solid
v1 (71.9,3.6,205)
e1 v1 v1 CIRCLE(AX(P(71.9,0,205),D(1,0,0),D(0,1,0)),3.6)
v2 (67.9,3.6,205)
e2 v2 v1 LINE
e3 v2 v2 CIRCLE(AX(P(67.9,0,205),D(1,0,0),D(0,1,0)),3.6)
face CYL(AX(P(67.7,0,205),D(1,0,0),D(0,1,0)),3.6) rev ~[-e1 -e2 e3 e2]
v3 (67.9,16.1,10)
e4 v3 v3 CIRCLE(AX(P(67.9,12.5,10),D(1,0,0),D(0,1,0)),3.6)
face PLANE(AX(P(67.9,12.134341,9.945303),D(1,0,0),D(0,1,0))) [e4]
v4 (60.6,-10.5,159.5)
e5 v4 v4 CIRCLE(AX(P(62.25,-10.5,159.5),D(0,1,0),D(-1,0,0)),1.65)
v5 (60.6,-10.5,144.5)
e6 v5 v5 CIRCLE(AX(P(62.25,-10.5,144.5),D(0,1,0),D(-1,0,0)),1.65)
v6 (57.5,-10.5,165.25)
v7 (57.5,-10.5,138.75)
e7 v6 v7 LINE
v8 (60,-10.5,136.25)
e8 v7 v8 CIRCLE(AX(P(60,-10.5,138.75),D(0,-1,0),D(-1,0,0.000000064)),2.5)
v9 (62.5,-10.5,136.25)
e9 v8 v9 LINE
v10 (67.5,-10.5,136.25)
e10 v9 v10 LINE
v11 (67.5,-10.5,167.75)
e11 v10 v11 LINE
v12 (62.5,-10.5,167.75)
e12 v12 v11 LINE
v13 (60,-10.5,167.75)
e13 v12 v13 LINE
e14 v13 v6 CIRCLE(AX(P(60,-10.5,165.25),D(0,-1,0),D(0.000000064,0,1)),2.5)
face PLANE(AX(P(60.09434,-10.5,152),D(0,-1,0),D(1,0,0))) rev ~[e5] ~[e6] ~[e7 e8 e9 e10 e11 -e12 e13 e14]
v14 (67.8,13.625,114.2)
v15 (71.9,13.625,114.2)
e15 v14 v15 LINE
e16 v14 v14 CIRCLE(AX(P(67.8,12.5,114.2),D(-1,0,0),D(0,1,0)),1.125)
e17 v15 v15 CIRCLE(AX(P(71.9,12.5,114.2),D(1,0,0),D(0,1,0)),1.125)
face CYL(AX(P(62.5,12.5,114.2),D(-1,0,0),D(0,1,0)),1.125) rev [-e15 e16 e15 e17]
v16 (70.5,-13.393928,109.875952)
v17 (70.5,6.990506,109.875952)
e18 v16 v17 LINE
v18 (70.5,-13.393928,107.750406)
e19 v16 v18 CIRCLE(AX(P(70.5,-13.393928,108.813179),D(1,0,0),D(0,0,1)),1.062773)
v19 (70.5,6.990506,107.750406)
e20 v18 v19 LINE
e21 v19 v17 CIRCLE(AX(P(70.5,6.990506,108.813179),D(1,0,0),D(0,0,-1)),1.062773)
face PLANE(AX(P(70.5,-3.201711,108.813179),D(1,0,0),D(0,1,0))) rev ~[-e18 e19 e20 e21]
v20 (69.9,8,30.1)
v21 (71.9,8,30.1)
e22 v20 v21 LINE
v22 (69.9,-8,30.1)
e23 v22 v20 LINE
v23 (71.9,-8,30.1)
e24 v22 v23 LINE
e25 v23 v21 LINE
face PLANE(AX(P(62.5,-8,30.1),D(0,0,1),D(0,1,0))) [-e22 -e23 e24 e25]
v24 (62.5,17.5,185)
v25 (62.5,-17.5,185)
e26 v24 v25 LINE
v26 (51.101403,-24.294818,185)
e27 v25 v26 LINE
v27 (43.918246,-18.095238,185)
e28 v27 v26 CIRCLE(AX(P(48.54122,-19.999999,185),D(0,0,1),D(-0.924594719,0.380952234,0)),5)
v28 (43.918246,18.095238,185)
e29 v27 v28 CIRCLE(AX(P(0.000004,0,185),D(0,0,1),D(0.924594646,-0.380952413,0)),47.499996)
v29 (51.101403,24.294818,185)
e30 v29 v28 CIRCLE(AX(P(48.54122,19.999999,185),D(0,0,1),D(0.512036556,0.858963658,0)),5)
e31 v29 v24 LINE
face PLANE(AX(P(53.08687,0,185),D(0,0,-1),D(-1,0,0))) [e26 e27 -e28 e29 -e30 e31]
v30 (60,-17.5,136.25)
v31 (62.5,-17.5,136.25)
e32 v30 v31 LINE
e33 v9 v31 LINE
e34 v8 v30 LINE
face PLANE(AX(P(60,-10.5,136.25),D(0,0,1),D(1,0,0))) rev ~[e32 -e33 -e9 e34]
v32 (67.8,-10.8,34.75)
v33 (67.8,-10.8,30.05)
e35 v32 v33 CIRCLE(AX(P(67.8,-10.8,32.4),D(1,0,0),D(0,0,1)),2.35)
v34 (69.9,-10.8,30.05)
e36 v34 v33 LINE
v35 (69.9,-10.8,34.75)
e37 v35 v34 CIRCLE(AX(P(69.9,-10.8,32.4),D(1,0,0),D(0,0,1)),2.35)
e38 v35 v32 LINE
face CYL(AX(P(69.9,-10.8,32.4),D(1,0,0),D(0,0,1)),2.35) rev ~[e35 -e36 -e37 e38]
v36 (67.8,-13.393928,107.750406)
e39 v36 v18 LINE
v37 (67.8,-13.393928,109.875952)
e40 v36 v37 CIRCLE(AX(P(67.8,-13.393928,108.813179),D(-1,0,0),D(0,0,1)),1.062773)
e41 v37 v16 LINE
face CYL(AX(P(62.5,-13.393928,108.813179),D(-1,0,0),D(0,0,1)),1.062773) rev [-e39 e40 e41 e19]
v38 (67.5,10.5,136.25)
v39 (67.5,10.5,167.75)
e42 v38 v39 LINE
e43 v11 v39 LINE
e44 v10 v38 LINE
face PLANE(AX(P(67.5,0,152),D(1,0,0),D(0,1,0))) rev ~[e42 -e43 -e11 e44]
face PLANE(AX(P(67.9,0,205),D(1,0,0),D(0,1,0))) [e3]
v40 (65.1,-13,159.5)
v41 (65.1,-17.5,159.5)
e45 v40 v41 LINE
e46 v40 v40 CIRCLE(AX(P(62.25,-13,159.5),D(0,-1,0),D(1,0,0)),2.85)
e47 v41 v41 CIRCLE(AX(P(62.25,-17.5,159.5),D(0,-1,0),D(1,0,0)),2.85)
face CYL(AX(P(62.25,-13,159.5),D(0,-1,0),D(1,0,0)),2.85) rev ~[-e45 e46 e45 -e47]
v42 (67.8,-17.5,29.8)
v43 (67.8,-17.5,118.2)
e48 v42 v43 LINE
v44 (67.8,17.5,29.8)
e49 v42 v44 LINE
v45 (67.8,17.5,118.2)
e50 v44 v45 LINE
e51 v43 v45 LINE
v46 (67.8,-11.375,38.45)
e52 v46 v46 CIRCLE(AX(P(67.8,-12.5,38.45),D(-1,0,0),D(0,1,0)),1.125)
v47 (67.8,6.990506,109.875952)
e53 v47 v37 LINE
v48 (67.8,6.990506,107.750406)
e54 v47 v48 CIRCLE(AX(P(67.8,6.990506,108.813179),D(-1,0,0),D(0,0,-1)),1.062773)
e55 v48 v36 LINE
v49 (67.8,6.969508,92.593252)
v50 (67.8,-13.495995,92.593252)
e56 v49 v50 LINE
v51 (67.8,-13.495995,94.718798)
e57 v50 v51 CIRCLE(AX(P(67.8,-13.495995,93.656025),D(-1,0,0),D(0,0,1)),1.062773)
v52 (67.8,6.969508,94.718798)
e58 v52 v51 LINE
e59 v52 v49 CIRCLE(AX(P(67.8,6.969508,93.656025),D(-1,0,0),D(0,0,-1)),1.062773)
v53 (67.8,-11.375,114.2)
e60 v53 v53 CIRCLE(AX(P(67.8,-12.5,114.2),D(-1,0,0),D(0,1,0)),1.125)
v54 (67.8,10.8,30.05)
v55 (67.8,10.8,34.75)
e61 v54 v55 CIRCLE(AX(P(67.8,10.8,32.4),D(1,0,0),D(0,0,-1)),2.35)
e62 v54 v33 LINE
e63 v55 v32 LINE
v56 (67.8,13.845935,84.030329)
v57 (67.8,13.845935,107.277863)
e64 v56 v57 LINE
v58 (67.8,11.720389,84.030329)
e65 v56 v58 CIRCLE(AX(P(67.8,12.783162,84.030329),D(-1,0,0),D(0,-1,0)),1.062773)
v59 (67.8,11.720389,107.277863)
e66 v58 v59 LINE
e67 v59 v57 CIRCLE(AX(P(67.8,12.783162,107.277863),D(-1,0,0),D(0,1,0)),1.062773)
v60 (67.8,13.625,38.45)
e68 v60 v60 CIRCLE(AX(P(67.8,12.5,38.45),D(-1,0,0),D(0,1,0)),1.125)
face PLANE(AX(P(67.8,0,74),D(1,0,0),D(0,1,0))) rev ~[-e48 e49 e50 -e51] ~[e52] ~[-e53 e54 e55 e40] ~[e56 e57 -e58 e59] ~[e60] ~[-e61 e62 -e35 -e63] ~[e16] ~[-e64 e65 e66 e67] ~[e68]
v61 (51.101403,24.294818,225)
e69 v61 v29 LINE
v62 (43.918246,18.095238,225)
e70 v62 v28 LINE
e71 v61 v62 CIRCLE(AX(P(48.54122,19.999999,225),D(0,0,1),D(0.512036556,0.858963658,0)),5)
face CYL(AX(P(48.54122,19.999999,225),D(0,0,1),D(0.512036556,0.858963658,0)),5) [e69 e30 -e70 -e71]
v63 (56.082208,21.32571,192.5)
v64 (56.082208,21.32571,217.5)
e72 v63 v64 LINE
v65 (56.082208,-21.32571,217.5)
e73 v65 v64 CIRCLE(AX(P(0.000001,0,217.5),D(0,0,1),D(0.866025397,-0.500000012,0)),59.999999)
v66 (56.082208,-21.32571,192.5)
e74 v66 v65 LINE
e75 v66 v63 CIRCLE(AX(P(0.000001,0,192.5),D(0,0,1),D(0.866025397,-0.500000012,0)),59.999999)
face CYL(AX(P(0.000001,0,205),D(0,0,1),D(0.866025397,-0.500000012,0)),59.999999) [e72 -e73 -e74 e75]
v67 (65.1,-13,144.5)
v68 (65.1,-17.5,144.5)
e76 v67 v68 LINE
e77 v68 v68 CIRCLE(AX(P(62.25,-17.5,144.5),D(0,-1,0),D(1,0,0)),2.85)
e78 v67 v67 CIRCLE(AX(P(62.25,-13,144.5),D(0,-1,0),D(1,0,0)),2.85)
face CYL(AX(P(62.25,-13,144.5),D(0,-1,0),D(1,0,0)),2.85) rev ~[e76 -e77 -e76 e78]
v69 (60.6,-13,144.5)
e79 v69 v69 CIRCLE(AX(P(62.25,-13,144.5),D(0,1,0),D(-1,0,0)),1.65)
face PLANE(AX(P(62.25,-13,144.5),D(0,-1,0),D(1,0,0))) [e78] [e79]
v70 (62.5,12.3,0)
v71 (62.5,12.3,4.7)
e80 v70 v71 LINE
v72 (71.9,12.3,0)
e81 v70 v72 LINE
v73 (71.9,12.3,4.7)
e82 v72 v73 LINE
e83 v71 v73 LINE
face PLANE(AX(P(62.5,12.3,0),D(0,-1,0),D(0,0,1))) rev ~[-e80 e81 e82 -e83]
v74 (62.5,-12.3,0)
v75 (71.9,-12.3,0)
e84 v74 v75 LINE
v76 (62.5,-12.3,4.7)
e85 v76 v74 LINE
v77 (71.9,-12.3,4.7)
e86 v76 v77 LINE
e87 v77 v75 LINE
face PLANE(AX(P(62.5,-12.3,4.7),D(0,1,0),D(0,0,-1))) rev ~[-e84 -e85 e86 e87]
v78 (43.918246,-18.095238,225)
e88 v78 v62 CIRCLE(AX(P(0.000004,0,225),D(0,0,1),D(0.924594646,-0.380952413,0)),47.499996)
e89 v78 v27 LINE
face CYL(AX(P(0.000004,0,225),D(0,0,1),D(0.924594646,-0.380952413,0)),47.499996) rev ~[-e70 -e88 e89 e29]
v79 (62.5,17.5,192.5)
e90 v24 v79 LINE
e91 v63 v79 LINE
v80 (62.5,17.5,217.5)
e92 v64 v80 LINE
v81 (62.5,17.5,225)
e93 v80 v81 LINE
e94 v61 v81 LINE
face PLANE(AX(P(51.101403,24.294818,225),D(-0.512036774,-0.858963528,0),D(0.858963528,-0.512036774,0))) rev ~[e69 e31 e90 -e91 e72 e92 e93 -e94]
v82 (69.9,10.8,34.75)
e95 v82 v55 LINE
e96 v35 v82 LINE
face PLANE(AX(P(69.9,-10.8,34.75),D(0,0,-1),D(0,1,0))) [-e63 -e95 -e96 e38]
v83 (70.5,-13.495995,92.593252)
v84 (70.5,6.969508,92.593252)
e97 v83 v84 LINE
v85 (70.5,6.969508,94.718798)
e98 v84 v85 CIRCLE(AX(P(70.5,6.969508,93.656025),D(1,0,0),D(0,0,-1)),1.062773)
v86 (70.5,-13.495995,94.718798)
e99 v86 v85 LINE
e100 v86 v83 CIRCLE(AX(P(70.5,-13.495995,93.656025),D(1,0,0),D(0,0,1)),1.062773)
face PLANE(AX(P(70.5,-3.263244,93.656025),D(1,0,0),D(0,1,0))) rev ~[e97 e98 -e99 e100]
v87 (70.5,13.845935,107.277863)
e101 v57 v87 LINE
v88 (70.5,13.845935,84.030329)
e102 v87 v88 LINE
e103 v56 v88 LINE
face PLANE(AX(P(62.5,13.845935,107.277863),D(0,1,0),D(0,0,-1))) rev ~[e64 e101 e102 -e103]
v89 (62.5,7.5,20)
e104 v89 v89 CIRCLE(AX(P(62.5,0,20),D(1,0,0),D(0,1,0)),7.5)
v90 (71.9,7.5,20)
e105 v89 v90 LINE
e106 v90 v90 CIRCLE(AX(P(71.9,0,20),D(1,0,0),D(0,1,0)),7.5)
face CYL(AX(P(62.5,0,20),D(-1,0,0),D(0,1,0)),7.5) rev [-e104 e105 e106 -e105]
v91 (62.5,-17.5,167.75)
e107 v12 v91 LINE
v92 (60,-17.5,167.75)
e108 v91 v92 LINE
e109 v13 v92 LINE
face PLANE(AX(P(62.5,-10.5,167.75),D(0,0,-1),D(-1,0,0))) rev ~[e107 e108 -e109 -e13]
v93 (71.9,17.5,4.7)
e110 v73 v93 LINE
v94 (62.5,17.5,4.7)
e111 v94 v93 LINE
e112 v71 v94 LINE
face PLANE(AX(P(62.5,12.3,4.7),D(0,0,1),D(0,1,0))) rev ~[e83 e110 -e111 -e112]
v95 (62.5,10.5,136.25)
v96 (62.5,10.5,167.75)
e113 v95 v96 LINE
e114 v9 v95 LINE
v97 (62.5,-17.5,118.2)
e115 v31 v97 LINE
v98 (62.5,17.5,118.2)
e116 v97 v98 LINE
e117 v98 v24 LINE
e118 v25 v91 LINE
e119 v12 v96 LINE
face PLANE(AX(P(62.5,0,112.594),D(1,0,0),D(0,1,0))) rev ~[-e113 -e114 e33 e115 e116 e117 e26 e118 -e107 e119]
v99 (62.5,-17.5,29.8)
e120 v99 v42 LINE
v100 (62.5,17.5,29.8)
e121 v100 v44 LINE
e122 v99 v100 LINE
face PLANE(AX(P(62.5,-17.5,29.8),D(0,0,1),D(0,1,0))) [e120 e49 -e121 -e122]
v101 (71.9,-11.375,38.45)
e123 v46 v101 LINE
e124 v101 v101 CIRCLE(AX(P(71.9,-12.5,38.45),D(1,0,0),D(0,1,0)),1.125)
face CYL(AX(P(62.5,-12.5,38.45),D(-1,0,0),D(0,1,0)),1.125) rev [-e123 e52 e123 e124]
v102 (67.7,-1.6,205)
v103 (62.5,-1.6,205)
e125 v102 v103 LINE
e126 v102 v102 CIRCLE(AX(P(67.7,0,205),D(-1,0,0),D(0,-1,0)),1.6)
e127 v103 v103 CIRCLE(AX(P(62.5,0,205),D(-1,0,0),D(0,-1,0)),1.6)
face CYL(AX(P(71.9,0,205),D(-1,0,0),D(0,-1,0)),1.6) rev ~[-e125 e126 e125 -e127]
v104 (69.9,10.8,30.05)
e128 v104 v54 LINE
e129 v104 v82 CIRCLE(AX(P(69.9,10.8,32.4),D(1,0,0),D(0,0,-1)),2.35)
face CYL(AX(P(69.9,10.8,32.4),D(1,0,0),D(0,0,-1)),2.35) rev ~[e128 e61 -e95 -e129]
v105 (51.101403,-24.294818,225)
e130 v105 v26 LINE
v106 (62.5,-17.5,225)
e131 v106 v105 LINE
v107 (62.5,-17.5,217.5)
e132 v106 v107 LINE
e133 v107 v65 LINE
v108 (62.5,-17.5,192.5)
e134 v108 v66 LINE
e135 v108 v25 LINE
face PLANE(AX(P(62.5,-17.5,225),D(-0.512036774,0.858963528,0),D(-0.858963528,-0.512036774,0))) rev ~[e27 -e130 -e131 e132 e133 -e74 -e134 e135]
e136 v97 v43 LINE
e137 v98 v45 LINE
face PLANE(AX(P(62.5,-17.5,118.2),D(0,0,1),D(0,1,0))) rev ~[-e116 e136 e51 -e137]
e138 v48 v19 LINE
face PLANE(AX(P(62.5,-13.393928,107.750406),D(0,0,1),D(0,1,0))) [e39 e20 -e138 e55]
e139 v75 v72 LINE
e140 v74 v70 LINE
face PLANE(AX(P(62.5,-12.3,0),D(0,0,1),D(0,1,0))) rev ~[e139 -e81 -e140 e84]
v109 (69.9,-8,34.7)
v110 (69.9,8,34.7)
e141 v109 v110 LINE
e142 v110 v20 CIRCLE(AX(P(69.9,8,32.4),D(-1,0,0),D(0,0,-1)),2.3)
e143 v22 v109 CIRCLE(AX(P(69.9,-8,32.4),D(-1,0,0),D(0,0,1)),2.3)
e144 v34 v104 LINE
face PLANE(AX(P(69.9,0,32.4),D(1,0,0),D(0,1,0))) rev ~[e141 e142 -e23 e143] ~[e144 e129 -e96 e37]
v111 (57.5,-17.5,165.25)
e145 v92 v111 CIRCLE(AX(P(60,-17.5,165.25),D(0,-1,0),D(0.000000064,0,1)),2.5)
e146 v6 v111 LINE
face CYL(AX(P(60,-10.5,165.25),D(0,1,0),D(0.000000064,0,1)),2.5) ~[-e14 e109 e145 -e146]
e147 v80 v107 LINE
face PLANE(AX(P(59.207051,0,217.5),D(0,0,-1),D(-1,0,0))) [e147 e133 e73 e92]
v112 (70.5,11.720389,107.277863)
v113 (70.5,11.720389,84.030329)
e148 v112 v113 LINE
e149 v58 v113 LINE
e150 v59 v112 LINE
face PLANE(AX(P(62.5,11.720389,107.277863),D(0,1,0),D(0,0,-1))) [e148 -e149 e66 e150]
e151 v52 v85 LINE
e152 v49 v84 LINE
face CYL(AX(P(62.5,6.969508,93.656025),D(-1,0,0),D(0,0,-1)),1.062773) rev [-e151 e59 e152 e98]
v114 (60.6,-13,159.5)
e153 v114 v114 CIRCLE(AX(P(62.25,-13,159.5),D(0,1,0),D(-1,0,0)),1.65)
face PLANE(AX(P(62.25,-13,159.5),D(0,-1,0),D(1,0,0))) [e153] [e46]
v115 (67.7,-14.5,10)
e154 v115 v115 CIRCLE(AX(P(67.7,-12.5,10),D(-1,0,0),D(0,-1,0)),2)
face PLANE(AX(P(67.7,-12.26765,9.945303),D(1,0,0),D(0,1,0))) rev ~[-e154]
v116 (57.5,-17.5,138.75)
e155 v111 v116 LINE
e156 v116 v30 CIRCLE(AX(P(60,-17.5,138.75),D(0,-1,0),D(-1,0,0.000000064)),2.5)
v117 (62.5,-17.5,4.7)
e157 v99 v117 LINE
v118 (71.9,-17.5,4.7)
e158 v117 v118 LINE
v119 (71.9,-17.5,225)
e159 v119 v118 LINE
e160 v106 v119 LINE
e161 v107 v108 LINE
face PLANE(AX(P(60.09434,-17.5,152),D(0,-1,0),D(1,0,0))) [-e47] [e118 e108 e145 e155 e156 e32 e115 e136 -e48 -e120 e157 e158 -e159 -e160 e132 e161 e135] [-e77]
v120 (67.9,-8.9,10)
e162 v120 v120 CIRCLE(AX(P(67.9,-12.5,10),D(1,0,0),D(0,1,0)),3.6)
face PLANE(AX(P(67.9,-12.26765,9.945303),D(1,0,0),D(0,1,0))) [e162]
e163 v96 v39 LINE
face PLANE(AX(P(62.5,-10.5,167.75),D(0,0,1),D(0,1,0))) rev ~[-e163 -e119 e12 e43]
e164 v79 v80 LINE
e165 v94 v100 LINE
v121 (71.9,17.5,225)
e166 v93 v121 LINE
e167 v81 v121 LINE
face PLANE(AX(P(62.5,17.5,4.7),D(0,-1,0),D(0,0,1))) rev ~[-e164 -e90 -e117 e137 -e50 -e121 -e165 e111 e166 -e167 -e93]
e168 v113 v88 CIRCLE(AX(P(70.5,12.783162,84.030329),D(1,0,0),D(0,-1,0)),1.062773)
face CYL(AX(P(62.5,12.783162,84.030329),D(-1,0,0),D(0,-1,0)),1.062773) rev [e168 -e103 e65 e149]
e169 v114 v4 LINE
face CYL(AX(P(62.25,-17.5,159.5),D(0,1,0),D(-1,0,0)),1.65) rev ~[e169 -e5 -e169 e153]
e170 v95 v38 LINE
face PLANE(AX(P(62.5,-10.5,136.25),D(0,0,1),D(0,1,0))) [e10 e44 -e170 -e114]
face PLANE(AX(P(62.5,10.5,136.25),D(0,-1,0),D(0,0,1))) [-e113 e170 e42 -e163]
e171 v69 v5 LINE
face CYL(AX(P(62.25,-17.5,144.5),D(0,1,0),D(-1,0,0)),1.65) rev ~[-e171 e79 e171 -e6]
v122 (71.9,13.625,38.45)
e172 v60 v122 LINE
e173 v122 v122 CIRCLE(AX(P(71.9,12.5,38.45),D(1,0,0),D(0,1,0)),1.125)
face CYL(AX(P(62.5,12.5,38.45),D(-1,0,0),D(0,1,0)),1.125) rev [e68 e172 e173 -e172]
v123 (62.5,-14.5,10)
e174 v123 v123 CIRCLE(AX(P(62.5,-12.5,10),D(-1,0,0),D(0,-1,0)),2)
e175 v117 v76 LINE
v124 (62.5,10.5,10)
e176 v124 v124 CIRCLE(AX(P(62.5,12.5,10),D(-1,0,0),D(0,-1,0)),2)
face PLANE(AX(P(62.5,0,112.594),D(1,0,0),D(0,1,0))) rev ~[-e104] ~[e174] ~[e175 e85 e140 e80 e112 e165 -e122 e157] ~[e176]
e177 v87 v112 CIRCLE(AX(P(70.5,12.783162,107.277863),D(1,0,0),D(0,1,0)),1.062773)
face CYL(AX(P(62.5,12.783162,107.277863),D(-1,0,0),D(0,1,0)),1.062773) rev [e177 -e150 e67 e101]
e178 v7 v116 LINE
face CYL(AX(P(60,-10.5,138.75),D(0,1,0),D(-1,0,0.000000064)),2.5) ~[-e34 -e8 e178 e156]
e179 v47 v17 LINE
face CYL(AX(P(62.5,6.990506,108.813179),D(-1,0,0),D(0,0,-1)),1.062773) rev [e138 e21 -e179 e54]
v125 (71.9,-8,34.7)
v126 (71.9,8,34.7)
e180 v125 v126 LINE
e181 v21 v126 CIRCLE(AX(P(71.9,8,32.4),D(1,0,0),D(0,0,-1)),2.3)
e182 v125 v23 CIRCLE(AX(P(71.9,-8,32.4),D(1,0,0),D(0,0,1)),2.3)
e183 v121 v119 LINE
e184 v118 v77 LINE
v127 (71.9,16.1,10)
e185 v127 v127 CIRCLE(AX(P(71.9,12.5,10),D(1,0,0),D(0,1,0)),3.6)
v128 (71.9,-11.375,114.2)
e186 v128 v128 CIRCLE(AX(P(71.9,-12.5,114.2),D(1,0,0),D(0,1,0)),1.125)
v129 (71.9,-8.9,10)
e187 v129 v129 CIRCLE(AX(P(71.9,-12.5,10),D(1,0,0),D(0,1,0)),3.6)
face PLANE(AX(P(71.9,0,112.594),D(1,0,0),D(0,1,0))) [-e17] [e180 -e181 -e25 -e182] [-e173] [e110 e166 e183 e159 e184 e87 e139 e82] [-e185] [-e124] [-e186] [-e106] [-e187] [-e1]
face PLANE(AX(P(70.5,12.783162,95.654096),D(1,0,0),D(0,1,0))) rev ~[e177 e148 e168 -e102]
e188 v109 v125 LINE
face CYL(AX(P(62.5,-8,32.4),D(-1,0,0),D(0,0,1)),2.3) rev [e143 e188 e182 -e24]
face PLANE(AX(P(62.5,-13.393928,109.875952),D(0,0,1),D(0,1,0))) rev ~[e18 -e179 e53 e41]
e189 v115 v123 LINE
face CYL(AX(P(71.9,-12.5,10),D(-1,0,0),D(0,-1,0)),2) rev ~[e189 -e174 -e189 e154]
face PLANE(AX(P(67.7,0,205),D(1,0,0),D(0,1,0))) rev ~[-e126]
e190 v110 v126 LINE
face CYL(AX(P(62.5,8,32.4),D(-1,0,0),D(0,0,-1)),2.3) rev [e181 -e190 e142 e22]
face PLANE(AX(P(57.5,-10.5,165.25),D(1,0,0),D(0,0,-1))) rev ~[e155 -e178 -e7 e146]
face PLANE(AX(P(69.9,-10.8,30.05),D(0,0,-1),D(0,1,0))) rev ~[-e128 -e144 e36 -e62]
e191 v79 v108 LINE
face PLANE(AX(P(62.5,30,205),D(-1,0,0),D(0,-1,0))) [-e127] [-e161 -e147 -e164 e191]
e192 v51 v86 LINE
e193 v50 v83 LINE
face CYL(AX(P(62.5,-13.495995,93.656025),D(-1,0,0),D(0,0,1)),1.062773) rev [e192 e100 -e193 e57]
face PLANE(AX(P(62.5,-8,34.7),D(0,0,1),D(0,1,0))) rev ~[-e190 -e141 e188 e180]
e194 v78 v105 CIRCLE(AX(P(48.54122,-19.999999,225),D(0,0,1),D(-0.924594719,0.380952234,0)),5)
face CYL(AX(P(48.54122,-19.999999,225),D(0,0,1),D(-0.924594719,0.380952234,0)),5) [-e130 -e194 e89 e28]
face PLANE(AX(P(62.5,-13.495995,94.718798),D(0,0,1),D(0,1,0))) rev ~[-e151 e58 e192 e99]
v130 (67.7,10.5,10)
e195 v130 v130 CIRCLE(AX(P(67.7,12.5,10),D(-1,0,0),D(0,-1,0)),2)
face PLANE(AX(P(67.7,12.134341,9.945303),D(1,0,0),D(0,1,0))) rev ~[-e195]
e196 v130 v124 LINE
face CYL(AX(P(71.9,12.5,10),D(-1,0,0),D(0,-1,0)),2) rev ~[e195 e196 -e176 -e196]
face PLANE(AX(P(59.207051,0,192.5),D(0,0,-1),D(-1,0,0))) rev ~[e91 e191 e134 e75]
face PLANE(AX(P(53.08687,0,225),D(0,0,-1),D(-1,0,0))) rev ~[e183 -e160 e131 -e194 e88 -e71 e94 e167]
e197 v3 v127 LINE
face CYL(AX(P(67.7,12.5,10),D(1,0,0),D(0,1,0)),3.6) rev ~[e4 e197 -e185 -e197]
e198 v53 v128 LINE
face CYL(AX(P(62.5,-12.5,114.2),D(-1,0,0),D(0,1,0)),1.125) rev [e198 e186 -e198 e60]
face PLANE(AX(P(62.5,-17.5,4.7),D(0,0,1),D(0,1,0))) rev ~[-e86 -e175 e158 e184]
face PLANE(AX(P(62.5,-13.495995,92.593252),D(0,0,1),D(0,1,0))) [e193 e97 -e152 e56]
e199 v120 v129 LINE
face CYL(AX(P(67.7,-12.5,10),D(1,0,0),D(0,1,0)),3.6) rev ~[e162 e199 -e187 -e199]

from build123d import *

# Parameters (mm, degrees)
SKETCH022_R         = 7.5
SKETCH022_R_2       = 1.125
PAD002_DEPTH        = 9.4
HOLE007_D           = 4
HOLE007_CBORE_D     = 7.2
HOLE007_CBORE_DEPTH = 4.2
POCKET005_DEPTH     = 5
PAD003_DEPTH        = 40
POCKET006_DEPTH     = 12.5
SKETCH030_W         = 35
SKETCH030_H         = 88.4
POCKET008_DEPTH     = 5.3
POCKET009_DEPTH     = 8
SKETCH039_W         = 21
SKETCH039_H         = 31.5
POCKET013_DEPTH     = 5
PAD006_DEPTH        = 7
HOLE008_D           = 3.3
HOLE008_DEPTH       = 20
HOLE008_CBORE_D     = 5.7
HOLE008_CBORE_DEPTH = 4.5
HOLE008_TIPS_R      = 1.65
HOLE009_D           = 3.2
HOLE009_DEPTH       = 11
HOLE009_CBORE_D     = 7.2
HOLE009_CBORE_DEPTH = 4.2
SKETCH042_R         = 4.841694
SKETCH042_R_2       = 4.912123
SKETCH042_R_3       = 5.957845
PAD007_DEPTH        = 0.2


with BuildPart() as part:
    # Sketch022 → Pad002 (new body)
    with BuildSketch(Plane.YZ.offset(62.5)):
        Polygon((-17.5, 225), (-17.5, 4.7), (-12.3, 4.7), (-12.3, 0), (12.3, 0), (12.3, 4.7), (17.5, 4.7), (17.5, 225), align=None)
        with Locations((0, 20)):
            Circle(SKETCH022_R, mode=Mode.SUBTRACT)
        with Locations((-12.5, 114.2)):
            Circle(SKETCH022_R_2, mode=Mode.SUBTRACT)
        with Locations((12.5, 114.2)):
            Circle(SKETCH022_R_2, mode=Mode.SUBTRACT)
        with Locations((-12.5, 38.45)):
            Circle(SKETCH022_R_2, mode=Mode.SUBTRACT)
        with Locations((12.5, 38.45)):
            Circle(SKETCH022_R_2, mode=Mode.SUBTRACT)
        with BuildLine():
            ThreePointArc((-8, 34.7), (-10.3, 32.4), (-8, 30.1))
            Line((-8, 30.1), (8, 30.1))
            ThreePointArc((8, 30.1), (10.3, 32.4), (8, 34.7))
            Line((-8, 34.7), (8, 34.7))
        make_face(mode=Mode.SUBTRACT)
    extrude(amount=PAD002_DEPTH)

    # Hole007 (through all)
    with Locations(Plane.YZ.offset(71.9)):
        with Locations((-12.5, 10), (12.5, 10)):
            CounterBoreHole(HOLE007_D / 2, HOLE007_CBORE_D / 2, HOLE007_CBORE_DEPTH)

    # Sketch026 → Pocket005 (cut)
    with BuildSketch(Plane.YZ.offset(69.9)):
        with BuildLine():
            ThreePointArc((-10.8, 34.75), (-13.15, 32.4), (-10.8, 30.05))
            Line((-10.8, 30.05), (10.8, 30.05))
            ThreePointArc((10.8, 30.05), (13.15, 32.4), (10.8, 34.75))
            Line((-10.8, 34.75), (10.8, 34.75))
        make_face()
    extrude(amount=-POCKET005_DEPTH, mode=Mode.SUBTRACT)

    # Sketch027 → Pad003 (join)
    with BuildSketch(Plane.XY.offset(225)):
        with BuildLine():
            ThreePointArc((43.918246, -18.095238), (47.5, 0), (43.918246, 18.095238))
            ThreePointArc((51.101403, 24.294818), (45.274345, 23.785172), (43.918246, 18.095238))
            Line((51.101403, 24.294818), (62.5, 17.5))
            Line((62.5, 17.5), (62.5, -17.5))
            Line((62.5, -17.5), (51.101403, -24.294818))
            ThreePointArc((43.918246, -18.095238), (45.274345, -23.785172), (51.101403, -24.294818))
        make_face()
    extrude(amount=-PAD003_DEPTH)

    # Sketch028 → Pocket006 (cut, symmetric)
    with BuildSketch(Plane.XY.offset(205)):
        with BuildLine():
            ThreePointArc((51.961524, -30), (60, 0), (51.961524, 30))
            Line((51.961524, 30), (62.5, 30))
            Line((62.5, 30), (62.5, -30))
            Line((62.5, -30), (51.961524, -30))
        make_face()
    extrude(amount=POCKET006_DEPTH, both=True, mode=Mode.SUBTRACT)

    # Sketch030 → Pocket008 (cut)
    with BuildSketch(Plane.YZ.offset(62.5)):
        with Locations((0, 74)):
            Rectangle(SKETCH030_W, SKETCH030_H)
    extrude(amount=POCKET008_DEPTH, mode=Mode.SUBTRACT)

    # Sketch031 → Pocket009 (cut)
    with BuildSketch(Plane.YZ.offset(62.5)):
        with BuildLine():
            ThreePointArc((13.845935, 107.277863), (12.783162, 108.340636), (11.720389, 107.277863))
            Line((11.720389, 107.277863), (11.720389, 84.030329))
            ThreePointArc((11.720389, 84.030329), (12.783162, 82.967556), (13.845935, 84.030329))
            Line((13.845935, 107.277863), (13.845935, 84.030329))
        make_face()
        with BuildLine():
            ThreePointArc((-13.393928, 109.875952), (-14.456701, 108.813179), (-13.393928, 107.750406))
            Line((-13.393928, 107.750406), (6.990506, 107.750406))
            ThreePointArc((6.990506, 107.750406), (8.053279, 108.813179), (6.990506, 109.875952))
            Line((-13.393928, 109.875952), (6.990506, 109.875952))
        make_face()
        with BuildLine():
            ThreePointArc((-13.495995, 94.718798), (-14.558768, 93.656025), (-13.495995, 92.593252))
            Line((-13.495995, 92.593252), (6.969508, 92.593252))
            ThreePointArc((6.969508, 92.593252), (8.032281, 93.656025), (6.969508, 94.718798))
            Line((-13.495995, 94.718798), (6.969508, 94.718798))
        make_face()
    extrude(amount=POCKET009_DEPTH, mode=Mode.SUBTRACT)

    # Sketch039 → Pocket013 (cut)
    with BuildSketch(Plane.YZ.offset(62.5)):
        with Locations((0, 152)):
            Rectangle(SKETCH039_W, SKETCH039_H)
    extrude(amount=POCKET013_DEPTH, mode=Mode.SUBTRACT)

    # Sketch040 → Pad006 (join)
    with BuildSketch(Plane.XZ.offset(10.5)):
        with BuildLine():
            Line((62.5, 167.75), (60, 167.75))
            ThreePointArc((60, 167.75), (58.232233, 167.017767), (57.5, 165.25))
            Line((57.5, 165.25), (57.5, 138.75))
            ThreePointArc((57.5, 138.75), (58.232233, 136.982233), (60, 136.25))
            Line((60, 136.25), (62.5, 136.25))
            Line((62.5, 136.25), (62.5, 167.75))
        make_face()
    extrude(amount=PAD006_DEPTH)

    # Hole008
    with Locations(Plane.XZ.offset(17.5)):
        with Locations((62.25, 159.5), (62.25, 144.5)):
            CounterBoreHole(HOLE008_D / 2, HOLE008_CBORE_D / 2, HOLE008_CBORE_DEPTH, depth=HOLE008_DEPTH)

    # Hole008 tips → Hole008 tip 1 section 0
    with BuildSketch(Plane.XZ.offset(-2.5), mode=Mode.PRIVATE) as hole008_tip_1_s0:
        with Locations((62.25, 159.5)):
            Circle(HOLE008_TIPS_R)
    loft([hole008_tip_1_s0.sketch, Vertex(62.25, 3.49142, 159.5)], mode=Mode.SUBTRACT)

    # Hole008 tips → Hole008 tip 2 section 0
    with BuildSketch(Plane.XZ.offset(-2.5), mode=Mode.PRIVATE) as hole008_tip_2_s0:
        with Locations((62.25, 144.5)):
            Circle(HOLE008_TIPS_R)
    loft([hole008_tip_2_s0.sketch, Vertex(62.25, 3.49142, 144.5)], mode=Mode.SUBTRACT)

    # Hole009
    with Locations(Plane.YZ.offset(71.9)):
        with Locations((0, 205)):
            CounterBoreHole(HOLE009_D / 2, HOLE009_CBORE_D / 2, HOLE009_CBORE_DEPTH, depth=HOLE009_DEPTH)

    # Sketch042 → Pad007 (join)
    with BuildSketch(Plane.YZ.offset(67.7)):
        with Locations((-12.26765, 9.945303)):
            Circle(SKETCH042_R)
        with Locations((12.134341, 9.945303)):
            Circle(SKETCH042_R_2)
        with Locations((0, 205)):
            Circle(SKETCH042_R_3)
    extrude(amount=PAD007_DEPTH)


solid = part.part
